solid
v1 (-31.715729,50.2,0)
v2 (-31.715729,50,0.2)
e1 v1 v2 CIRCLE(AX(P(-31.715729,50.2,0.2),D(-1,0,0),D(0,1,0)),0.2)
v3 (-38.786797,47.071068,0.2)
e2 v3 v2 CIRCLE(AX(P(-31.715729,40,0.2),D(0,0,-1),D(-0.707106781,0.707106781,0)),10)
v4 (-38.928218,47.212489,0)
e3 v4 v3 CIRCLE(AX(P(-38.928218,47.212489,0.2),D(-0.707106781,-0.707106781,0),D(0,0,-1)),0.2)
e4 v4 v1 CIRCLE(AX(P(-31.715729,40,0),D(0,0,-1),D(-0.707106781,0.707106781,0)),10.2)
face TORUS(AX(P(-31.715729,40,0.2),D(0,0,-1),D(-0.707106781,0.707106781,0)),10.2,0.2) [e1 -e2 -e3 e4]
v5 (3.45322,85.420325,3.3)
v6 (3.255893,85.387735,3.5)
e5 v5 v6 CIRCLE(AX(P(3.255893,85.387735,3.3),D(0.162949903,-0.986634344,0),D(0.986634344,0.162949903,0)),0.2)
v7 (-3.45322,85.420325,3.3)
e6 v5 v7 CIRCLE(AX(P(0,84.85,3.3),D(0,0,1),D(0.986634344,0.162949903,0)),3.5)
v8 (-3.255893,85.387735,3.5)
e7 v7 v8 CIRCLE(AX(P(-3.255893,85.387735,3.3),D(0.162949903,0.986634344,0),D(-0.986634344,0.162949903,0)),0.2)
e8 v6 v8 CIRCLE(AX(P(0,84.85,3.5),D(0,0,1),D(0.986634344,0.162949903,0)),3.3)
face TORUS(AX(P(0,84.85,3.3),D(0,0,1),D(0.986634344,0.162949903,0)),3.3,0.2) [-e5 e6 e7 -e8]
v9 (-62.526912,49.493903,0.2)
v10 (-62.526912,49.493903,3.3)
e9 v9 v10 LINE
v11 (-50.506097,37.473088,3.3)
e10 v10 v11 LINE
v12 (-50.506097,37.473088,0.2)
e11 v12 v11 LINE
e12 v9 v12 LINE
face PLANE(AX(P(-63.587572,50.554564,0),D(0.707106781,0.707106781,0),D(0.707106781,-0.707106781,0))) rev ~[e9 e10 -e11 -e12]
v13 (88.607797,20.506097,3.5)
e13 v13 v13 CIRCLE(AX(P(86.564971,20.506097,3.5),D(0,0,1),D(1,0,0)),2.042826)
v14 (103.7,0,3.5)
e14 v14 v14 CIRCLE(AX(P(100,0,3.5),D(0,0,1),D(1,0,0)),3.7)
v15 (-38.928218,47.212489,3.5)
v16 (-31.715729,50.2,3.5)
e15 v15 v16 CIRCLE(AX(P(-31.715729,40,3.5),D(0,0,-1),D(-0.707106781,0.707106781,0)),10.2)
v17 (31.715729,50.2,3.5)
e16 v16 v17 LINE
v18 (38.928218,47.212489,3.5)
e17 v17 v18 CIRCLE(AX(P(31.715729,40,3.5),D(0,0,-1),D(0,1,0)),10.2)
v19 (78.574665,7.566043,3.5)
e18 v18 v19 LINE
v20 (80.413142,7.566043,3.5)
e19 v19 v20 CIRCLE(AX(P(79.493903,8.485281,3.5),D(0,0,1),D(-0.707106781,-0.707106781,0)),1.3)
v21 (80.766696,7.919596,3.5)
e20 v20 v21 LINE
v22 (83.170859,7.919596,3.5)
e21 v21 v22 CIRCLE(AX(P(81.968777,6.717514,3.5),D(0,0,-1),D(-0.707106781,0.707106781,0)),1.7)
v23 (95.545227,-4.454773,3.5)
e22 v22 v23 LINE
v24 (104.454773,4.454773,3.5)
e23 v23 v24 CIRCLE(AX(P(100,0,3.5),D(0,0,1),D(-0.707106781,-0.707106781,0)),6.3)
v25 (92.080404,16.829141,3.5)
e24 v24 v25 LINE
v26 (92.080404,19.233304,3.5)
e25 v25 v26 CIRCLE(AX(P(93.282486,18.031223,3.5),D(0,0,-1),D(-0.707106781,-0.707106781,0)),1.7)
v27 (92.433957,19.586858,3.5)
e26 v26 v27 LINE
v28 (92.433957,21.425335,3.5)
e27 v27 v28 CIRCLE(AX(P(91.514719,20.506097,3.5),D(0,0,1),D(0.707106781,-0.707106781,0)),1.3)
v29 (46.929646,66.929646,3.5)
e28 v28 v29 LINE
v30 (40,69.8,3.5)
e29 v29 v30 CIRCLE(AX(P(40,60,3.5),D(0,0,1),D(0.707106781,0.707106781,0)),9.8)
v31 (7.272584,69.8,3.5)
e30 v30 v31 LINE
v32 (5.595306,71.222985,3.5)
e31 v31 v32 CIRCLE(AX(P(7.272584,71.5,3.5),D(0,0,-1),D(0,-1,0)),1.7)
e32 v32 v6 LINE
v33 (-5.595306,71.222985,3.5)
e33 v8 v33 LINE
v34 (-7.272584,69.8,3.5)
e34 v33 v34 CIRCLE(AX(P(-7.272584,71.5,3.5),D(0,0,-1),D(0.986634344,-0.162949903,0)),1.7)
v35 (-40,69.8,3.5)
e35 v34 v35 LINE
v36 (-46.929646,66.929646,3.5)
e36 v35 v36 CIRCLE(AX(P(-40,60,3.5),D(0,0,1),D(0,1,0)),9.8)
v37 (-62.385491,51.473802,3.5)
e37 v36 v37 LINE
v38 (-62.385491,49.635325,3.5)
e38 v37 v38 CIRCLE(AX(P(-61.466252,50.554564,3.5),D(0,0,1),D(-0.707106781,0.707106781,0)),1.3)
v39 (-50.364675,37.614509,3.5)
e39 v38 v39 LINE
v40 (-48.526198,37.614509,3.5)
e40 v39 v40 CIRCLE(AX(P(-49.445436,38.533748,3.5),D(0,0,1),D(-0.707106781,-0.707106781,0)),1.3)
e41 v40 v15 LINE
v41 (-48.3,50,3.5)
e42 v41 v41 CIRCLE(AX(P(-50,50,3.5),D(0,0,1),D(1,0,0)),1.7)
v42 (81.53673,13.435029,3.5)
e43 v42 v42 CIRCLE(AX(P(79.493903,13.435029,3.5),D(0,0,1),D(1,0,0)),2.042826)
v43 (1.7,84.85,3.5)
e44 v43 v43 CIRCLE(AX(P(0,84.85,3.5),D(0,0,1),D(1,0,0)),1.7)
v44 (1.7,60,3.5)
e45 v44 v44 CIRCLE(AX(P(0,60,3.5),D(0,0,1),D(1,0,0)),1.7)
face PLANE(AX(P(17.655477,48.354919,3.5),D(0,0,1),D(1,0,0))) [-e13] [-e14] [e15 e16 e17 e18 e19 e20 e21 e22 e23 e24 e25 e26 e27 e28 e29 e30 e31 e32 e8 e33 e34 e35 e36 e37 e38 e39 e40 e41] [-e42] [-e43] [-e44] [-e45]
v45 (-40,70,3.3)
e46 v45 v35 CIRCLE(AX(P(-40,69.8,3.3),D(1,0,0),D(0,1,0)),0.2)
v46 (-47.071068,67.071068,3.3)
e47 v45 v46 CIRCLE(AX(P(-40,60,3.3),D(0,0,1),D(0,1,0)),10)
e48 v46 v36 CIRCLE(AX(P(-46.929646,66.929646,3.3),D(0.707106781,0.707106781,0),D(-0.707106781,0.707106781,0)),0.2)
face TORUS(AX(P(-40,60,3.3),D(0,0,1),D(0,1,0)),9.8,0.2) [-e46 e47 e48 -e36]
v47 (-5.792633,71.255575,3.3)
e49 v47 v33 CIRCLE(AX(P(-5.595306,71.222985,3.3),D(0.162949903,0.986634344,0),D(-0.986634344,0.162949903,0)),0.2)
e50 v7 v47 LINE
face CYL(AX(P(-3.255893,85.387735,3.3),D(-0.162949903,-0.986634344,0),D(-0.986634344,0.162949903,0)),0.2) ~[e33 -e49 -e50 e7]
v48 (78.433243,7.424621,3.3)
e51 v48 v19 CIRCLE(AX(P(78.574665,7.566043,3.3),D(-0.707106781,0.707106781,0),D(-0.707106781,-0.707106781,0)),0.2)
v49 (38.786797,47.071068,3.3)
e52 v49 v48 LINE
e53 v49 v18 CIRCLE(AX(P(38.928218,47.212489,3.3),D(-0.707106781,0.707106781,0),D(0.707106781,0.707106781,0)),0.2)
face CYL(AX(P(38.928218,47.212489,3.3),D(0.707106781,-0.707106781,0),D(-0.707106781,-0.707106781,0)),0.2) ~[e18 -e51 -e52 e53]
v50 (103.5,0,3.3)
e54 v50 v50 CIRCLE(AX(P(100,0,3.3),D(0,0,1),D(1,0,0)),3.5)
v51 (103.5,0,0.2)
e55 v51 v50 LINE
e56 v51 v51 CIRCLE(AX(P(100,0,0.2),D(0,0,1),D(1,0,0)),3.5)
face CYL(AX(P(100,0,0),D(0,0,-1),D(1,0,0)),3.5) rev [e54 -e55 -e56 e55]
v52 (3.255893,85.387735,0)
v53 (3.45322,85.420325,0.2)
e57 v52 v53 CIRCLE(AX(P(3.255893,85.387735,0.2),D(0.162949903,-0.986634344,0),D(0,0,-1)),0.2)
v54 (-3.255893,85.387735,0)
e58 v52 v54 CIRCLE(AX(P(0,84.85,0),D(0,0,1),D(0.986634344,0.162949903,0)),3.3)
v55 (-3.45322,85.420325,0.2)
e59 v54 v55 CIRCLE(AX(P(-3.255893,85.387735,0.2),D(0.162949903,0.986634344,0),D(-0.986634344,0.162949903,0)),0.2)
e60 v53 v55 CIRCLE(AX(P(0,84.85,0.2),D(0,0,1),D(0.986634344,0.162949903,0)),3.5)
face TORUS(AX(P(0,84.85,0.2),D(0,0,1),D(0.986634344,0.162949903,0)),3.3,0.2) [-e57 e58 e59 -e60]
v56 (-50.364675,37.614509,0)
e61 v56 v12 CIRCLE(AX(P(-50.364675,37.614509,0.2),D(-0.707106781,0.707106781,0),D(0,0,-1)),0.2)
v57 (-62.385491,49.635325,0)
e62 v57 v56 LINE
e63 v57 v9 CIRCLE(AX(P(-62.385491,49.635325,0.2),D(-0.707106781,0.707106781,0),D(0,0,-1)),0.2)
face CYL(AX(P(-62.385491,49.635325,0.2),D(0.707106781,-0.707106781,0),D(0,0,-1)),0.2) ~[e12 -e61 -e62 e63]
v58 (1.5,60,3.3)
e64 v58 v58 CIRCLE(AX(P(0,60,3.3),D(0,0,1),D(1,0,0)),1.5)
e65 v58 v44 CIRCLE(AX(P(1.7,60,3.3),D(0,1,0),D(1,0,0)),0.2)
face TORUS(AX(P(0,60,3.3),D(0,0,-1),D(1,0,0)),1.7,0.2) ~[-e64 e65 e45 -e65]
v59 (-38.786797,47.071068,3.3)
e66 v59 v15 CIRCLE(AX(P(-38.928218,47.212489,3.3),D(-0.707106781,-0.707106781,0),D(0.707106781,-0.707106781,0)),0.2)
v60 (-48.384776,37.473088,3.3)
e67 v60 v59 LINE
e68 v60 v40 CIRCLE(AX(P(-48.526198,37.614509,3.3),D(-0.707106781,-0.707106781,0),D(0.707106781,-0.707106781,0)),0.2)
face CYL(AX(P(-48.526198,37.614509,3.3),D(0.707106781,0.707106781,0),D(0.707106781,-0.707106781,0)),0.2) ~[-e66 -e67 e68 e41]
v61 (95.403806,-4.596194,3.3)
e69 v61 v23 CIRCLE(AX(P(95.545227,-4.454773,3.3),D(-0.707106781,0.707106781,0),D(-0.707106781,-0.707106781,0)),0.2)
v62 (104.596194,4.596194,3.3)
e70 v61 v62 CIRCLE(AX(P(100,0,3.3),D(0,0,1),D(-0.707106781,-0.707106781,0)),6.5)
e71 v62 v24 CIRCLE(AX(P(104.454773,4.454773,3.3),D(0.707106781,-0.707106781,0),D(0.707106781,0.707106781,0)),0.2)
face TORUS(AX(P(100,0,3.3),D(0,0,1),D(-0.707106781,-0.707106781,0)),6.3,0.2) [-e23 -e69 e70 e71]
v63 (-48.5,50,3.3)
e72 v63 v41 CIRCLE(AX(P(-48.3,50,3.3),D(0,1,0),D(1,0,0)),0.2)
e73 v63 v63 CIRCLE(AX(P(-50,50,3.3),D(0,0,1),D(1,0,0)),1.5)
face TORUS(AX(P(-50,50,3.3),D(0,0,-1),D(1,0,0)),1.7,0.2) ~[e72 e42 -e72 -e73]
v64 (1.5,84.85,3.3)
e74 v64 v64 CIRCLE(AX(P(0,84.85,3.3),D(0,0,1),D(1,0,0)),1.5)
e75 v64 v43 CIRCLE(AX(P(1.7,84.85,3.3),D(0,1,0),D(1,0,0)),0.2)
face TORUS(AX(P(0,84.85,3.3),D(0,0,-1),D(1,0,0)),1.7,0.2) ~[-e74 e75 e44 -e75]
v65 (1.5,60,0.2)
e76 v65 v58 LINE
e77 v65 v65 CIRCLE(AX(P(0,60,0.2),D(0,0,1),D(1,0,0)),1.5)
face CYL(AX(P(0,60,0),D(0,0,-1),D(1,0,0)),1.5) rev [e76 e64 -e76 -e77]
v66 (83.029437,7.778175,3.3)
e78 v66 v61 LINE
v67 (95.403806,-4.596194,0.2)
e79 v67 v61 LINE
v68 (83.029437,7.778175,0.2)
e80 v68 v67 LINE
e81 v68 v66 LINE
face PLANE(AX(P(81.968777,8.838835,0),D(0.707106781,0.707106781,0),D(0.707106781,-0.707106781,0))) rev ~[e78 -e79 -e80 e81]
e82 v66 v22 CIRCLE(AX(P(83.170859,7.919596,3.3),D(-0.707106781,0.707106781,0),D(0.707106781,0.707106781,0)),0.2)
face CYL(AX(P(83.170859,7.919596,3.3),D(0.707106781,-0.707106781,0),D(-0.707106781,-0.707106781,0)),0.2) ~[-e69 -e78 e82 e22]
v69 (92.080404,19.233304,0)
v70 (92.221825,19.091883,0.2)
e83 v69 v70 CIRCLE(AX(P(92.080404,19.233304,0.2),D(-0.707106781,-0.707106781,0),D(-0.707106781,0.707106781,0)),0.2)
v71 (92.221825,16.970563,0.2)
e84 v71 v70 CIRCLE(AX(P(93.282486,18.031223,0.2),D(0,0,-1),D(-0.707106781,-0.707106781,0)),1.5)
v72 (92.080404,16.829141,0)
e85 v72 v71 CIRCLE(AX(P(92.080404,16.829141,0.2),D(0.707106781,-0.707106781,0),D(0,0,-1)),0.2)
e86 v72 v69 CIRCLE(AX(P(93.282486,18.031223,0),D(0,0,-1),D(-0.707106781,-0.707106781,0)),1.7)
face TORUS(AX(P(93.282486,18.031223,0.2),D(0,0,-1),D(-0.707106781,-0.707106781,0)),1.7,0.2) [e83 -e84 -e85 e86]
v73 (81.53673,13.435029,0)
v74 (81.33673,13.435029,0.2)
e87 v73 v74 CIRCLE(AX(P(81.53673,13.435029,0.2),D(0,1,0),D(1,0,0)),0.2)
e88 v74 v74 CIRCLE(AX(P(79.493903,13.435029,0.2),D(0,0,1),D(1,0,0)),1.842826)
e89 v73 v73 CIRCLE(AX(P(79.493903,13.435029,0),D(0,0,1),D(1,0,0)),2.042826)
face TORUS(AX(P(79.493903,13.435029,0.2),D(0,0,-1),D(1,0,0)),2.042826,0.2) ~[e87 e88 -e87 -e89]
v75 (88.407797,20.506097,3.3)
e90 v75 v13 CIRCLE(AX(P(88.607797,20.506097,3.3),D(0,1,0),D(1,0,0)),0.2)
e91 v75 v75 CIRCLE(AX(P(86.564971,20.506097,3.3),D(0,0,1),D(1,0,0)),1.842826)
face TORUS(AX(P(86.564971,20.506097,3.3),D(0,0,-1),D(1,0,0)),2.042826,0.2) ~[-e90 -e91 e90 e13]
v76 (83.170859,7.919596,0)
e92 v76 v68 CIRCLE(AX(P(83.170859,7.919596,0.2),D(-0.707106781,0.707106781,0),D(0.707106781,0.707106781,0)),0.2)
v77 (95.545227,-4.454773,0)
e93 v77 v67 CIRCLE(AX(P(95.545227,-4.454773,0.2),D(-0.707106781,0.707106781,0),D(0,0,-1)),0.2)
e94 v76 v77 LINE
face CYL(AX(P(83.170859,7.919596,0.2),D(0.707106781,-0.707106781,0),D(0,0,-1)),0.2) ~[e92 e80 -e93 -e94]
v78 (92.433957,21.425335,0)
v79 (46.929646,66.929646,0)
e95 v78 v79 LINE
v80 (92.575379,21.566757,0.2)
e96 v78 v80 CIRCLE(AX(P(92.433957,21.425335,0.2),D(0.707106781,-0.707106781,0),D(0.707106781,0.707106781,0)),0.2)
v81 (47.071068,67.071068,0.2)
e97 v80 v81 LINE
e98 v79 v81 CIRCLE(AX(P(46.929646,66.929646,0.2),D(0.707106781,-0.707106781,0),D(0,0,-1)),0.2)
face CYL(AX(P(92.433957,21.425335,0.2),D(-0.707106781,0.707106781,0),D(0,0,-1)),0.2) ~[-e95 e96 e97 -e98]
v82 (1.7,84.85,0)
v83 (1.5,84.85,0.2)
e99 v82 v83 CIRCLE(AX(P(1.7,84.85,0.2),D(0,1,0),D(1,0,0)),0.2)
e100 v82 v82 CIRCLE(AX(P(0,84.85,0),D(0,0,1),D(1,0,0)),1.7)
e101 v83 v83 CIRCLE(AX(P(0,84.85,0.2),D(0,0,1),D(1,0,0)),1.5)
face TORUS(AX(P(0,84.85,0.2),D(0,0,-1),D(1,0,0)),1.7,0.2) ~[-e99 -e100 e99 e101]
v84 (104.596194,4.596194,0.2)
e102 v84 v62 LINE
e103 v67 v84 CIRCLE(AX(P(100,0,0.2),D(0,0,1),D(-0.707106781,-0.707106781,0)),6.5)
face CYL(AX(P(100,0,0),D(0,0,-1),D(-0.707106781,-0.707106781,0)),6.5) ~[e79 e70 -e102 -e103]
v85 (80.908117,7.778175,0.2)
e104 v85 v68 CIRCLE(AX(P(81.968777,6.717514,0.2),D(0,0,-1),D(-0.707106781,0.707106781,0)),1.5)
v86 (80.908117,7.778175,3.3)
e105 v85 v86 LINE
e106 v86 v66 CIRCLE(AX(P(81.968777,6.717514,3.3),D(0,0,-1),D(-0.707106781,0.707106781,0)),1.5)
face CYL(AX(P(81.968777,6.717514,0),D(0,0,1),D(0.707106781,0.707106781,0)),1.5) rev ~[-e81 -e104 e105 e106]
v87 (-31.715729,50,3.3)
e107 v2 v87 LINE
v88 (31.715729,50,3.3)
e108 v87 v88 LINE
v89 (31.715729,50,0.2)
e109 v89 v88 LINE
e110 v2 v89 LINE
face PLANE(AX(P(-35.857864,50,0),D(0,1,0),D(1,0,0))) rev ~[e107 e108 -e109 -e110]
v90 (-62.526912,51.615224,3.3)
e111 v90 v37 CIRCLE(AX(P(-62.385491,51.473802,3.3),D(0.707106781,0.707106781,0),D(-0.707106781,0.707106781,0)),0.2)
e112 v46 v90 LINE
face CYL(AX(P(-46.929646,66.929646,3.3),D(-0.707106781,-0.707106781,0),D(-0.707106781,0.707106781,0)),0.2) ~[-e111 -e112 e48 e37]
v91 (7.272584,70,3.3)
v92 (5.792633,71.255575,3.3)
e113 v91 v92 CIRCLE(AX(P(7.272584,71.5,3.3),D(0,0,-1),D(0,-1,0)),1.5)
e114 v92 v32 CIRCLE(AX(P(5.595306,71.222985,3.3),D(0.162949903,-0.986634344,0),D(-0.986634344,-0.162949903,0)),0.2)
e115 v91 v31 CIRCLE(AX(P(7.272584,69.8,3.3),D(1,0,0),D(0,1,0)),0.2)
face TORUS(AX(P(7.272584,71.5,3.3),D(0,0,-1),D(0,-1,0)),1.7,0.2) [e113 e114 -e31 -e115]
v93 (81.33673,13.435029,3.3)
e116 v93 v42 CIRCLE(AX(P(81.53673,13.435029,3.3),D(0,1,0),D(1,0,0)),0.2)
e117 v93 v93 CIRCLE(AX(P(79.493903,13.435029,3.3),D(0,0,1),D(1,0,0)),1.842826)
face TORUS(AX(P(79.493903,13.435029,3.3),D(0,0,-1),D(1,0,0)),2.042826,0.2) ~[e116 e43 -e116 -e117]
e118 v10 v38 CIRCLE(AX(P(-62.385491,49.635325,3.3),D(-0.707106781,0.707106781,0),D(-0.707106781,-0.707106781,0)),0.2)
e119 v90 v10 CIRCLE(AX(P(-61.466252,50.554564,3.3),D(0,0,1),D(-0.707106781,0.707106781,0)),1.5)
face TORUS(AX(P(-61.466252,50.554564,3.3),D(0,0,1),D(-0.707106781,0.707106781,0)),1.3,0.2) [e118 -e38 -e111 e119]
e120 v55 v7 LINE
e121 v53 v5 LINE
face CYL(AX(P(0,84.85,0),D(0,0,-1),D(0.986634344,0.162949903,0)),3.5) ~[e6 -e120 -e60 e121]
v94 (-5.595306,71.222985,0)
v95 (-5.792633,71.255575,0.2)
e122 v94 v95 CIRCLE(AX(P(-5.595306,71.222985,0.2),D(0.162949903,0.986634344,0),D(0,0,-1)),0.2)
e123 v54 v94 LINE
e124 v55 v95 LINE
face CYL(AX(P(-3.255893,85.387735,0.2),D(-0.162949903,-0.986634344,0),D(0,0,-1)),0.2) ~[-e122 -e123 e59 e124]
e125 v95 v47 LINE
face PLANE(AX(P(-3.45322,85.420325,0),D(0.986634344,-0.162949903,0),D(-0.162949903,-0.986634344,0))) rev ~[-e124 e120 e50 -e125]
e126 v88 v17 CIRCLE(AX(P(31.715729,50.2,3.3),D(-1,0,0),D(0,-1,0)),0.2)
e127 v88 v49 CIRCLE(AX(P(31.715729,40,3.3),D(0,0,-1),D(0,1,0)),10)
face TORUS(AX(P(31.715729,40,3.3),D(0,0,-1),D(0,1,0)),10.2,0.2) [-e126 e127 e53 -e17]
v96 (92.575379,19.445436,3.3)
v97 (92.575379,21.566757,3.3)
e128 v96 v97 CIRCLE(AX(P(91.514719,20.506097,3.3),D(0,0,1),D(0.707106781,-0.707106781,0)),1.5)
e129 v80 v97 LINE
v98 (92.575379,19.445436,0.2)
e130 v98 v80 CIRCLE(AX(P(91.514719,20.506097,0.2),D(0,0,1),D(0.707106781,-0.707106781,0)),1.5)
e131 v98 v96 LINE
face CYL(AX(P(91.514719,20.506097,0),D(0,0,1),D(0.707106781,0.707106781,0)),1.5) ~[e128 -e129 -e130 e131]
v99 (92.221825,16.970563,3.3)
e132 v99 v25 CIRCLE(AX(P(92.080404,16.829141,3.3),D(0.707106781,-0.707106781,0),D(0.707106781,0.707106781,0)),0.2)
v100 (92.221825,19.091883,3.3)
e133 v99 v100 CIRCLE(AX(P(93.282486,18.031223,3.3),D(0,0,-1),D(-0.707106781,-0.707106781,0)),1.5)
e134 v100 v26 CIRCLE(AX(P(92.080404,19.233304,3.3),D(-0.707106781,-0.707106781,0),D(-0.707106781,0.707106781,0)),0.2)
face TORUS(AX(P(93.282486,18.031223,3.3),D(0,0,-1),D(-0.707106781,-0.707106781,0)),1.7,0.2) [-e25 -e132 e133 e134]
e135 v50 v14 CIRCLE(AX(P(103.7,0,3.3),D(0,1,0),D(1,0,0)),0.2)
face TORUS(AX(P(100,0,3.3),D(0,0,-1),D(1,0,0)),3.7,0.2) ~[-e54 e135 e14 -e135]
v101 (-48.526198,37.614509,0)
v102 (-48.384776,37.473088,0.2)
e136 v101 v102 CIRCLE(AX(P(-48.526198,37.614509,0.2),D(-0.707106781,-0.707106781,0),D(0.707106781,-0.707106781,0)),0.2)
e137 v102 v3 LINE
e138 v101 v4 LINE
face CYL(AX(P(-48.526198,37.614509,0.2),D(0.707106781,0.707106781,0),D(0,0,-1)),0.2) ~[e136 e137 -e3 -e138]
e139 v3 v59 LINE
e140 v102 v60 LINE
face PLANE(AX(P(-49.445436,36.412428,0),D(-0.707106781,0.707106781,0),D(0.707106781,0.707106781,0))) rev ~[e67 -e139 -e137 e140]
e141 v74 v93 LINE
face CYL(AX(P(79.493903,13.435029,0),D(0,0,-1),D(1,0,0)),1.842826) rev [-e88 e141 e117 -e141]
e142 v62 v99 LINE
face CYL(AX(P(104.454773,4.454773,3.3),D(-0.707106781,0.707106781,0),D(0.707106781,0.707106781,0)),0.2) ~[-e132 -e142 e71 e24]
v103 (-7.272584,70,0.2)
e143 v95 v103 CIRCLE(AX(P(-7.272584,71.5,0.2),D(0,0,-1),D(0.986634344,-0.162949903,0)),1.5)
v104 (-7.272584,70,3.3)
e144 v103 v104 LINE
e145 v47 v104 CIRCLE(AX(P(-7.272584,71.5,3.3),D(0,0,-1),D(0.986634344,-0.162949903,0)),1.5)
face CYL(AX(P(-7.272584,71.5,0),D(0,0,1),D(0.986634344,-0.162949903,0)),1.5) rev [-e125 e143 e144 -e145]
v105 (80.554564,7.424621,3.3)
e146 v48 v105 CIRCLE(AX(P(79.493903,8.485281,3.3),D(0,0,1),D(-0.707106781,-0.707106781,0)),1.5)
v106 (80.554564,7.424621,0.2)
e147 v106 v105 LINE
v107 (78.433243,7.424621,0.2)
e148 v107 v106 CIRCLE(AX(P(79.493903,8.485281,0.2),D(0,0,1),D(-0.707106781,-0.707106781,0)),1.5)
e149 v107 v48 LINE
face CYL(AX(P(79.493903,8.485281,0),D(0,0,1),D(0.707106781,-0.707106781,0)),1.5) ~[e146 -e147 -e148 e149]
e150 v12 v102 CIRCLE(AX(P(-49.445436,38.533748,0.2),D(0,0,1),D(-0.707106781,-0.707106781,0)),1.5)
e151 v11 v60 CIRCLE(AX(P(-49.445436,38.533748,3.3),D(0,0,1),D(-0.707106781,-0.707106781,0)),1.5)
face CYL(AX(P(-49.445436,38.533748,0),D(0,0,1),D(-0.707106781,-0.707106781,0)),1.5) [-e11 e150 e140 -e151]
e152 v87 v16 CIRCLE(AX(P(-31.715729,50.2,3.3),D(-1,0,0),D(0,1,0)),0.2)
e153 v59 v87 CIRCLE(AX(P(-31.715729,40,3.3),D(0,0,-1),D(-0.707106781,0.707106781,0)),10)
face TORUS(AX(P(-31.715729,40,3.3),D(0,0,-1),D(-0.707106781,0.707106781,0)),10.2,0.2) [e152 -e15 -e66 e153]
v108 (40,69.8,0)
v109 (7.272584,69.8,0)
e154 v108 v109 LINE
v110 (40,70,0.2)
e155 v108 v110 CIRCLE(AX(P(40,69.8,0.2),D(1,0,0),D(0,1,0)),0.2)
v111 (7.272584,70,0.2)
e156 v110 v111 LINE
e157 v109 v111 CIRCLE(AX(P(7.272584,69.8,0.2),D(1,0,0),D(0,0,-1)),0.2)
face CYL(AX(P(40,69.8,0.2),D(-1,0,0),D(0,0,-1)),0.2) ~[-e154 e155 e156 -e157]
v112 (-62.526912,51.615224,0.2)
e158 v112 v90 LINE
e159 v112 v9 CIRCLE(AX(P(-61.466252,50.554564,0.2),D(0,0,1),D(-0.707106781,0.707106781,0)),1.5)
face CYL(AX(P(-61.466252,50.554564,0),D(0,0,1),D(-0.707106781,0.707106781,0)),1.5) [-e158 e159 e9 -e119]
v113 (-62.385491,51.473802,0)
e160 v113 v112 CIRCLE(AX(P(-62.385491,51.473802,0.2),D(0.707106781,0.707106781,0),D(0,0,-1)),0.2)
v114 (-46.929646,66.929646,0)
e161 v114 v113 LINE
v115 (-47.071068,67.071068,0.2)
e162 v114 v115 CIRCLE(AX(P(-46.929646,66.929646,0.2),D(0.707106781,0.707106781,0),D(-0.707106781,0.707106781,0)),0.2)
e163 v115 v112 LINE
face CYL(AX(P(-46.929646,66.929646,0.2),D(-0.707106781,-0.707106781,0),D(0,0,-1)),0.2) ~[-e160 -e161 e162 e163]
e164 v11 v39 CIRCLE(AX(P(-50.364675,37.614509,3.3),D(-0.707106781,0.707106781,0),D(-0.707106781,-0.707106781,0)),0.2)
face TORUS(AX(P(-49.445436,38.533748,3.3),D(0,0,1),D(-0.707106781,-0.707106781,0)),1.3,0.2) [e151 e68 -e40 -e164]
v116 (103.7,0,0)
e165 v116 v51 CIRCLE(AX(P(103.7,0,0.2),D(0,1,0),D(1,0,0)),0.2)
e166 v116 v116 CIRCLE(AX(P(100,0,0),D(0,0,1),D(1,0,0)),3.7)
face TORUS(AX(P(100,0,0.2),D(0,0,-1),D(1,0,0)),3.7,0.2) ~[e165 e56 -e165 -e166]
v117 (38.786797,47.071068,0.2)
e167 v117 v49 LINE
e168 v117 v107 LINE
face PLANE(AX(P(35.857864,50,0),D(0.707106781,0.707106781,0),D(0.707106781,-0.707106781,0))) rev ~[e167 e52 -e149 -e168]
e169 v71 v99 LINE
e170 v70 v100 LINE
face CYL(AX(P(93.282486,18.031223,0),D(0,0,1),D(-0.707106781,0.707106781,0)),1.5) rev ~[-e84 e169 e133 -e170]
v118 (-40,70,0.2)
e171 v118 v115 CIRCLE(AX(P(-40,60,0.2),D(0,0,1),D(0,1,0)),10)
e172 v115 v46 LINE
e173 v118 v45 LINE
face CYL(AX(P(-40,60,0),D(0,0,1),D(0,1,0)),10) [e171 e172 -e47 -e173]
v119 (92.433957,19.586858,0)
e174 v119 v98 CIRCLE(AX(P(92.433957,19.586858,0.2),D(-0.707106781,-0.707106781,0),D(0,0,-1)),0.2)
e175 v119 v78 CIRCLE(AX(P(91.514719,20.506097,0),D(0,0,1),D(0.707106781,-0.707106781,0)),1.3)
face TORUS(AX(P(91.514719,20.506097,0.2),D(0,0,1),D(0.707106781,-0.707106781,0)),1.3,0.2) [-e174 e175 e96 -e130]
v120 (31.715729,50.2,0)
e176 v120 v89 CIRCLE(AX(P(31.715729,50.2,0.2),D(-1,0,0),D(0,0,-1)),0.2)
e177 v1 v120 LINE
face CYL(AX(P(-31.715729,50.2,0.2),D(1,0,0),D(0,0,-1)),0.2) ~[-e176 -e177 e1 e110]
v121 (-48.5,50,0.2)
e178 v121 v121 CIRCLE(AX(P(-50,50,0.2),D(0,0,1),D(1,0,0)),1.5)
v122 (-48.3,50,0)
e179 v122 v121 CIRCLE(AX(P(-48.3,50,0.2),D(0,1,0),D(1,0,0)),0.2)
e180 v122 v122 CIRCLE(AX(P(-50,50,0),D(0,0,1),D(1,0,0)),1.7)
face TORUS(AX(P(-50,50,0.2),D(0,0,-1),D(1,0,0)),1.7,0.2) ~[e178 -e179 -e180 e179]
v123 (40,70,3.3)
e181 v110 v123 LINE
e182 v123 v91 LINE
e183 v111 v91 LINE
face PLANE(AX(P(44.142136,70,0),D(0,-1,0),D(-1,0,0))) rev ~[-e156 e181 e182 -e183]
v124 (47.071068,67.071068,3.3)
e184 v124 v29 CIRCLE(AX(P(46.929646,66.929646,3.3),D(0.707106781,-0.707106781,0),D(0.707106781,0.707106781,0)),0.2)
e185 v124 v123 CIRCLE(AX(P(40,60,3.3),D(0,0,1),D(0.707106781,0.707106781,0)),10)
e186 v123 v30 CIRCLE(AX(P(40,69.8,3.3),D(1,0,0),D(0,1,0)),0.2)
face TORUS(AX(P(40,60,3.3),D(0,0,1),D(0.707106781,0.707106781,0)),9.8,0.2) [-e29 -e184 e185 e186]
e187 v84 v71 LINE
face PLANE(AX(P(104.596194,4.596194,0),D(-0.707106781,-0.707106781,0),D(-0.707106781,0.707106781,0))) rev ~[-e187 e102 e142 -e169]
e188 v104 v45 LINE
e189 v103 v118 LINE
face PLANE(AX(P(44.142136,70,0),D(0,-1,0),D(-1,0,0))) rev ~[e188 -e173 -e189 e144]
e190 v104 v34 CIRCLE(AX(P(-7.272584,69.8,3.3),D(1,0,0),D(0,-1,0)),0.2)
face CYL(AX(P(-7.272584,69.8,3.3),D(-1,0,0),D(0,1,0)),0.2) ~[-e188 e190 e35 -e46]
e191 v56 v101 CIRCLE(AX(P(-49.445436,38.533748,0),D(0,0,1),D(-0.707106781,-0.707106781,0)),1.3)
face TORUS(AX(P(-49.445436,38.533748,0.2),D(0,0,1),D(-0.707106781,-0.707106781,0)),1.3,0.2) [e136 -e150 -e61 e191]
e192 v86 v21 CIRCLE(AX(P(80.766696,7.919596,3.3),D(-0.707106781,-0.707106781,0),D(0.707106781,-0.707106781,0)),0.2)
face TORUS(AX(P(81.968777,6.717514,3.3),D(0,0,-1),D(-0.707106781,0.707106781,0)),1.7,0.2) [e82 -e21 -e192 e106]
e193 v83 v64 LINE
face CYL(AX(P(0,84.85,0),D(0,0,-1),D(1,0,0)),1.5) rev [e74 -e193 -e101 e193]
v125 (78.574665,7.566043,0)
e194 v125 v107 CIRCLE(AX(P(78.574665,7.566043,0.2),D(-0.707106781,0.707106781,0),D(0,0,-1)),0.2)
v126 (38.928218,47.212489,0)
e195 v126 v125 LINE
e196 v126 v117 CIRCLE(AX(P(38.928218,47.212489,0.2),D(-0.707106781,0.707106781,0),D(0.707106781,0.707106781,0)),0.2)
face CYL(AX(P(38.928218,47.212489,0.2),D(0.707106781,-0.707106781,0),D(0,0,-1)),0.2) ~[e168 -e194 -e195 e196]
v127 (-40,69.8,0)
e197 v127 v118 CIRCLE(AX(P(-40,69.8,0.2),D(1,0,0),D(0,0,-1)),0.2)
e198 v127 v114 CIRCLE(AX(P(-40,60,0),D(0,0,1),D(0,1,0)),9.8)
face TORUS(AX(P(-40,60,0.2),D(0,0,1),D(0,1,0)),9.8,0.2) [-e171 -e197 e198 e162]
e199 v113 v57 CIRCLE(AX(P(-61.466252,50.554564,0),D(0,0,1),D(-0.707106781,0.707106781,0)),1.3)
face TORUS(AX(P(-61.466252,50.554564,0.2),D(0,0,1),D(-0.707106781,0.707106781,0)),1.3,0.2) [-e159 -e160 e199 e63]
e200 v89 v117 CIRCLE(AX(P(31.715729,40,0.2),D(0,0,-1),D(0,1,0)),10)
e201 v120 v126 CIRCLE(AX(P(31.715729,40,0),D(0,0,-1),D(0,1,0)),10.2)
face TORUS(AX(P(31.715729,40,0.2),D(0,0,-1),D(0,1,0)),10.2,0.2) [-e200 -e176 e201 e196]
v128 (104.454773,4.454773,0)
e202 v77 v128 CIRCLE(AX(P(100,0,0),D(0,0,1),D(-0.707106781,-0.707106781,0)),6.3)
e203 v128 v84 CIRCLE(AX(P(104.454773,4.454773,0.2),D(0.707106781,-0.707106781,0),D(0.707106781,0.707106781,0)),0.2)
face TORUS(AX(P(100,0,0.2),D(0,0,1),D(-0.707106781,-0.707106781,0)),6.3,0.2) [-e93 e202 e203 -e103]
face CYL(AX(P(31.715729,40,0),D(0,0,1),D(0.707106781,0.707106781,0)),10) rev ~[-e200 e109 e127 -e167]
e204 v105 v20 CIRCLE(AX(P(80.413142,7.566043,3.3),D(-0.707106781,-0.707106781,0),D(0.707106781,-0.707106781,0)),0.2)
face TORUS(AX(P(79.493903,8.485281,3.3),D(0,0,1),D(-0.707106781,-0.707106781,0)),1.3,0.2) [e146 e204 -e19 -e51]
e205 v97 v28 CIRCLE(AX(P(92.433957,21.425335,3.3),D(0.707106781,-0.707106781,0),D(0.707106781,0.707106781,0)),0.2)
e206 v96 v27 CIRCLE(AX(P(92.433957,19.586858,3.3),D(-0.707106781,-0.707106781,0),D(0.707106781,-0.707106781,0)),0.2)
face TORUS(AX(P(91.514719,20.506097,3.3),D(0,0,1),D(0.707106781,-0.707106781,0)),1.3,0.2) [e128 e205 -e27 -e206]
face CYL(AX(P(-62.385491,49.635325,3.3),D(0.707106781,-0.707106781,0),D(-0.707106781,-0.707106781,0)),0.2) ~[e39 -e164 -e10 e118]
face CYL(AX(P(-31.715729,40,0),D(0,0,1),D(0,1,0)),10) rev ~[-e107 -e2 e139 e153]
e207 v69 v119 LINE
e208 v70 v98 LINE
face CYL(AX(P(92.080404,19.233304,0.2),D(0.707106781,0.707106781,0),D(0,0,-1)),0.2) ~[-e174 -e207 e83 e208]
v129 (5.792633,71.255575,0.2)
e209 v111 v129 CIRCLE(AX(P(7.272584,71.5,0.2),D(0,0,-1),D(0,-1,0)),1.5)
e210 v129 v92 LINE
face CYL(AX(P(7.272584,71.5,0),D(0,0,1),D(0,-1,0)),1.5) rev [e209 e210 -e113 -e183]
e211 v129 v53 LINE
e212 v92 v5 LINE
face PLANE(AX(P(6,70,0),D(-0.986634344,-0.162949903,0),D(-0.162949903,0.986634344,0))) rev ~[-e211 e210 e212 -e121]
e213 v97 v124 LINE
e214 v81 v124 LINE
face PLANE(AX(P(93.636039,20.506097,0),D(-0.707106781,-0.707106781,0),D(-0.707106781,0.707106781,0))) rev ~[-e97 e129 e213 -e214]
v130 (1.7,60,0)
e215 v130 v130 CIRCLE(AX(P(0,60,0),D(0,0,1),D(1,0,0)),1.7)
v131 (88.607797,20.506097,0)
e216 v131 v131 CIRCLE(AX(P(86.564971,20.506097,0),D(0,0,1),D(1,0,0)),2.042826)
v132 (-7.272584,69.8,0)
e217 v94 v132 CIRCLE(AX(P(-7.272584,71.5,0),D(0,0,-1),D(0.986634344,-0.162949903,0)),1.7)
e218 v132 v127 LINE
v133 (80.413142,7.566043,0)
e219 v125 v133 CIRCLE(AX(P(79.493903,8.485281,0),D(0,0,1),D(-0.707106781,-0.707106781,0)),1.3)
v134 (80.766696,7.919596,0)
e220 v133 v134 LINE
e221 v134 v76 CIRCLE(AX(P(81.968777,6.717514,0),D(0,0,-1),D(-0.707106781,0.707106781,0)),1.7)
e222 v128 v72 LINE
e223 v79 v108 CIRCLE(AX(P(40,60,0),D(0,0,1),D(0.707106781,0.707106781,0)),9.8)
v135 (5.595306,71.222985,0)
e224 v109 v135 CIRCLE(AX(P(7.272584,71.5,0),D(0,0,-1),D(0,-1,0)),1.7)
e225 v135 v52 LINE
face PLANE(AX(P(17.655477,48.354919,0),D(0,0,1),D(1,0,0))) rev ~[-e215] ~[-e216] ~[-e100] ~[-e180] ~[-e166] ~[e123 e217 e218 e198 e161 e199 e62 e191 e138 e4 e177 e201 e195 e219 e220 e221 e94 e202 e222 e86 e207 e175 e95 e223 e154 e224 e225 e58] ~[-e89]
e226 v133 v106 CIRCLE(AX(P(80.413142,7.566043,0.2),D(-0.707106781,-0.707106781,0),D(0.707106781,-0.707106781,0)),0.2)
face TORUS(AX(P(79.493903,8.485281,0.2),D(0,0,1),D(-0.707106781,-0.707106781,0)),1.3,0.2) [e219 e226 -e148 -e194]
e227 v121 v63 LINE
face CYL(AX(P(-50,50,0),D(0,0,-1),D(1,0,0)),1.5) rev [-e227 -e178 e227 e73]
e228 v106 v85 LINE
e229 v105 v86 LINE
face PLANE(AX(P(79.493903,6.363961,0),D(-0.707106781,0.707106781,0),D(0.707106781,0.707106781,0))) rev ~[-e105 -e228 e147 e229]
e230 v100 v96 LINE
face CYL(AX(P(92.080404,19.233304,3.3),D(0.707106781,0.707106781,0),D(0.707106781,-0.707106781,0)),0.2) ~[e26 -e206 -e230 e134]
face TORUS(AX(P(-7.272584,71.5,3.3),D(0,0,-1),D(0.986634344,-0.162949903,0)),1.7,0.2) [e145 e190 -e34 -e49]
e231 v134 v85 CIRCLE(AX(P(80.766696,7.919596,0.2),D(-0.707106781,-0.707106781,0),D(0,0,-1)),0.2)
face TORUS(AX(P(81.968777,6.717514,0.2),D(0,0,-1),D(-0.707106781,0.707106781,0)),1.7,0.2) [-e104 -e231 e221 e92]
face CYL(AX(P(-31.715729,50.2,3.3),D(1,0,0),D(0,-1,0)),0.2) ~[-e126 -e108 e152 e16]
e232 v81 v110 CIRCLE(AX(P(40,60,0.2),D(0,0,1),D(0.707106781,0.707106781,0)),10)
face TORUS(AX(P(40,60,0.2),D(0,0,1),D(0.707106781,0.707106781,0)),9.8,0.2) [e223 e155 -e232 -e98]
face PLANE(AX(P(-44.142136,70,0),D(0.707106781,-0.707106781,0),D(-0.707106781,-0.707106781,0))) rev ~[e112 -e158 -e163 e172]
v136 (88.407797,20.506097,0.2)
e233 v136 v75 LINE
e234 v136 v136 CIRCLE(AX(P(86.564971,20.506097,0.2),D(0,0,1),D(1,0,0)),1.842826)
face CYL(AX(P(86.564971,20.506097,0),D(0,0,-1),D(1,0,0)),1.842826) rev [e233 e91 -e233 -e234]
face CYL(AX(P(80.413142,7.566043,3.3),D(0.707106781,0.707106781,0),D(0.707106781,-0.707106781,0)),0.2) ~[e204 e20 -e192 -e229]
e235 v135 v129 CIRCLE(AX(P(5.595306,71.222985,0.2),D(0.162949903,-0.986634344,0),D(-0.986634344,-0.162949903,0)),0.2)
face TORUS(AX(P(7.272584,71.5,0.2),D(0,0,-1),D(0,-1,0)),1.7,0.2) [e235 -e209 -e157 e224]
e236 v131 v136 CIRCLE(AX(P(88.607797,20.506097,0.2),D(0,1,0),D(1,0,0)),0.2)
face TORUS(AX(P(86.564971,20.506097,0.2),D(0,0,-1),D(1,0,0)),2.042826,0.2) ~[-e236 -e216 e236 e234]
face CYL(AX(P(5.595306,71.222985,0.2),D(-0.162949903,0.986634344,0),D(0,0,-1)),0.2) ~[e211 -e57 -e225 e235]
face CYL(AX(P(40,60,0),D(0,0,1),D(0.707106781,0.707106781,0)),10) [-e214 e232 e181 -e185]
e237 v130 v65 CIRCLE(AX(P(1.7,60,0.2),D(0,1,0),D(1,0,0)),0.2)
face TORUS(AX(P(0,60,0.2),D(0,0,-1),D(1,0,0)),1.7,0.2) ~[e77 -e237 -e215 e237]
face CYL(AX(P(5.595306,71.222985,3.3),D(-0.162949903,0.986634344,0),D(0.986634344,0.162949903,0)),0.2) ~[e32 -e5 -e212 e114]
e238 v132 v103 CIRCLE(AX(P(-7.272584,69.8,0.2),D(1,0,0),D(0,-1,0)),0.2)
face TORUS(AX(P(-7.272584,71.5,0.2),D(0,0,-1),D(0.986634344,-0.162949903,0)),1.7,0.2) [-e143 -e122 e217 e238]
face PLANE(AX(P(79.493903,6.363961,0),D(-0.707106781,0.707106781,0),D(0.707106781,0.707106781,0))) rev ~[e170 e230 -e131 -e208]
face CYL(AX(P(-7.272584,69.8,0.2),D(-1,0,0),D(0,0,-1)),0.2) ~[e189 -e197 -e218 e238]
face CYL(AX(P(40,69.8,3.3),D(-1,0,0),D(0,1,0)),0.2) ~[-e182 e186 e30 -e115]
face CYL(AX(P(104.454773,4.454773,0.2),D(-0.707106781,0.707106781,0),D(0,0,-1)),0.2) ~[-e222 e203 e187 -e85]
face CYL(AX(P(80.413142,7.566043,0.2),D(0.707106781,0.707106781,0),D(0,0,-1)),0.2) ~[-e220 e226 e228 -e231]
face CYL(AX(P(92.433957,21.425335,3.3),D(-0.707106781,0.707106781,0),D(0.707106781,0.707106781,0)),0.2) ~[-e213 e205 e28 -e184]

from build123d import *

# Parameters (mm, degrees)
SKETCH6_R           = 3.5
SKETCH6_R_2         = 1.842826212
SKETCH6_R_3         = 1.5
BOSS_EXTRUDE1_DEPTH = 3.5
FILLET1_R           = 10
FILLET2_R           = 1.5
FILLET3_R           = 0.2


with BuildPart() as part:
    # Sketch6 → Boss-Extrude1 (new body)
    # profile 1 of 3: a face of its own
    with BuildSketch(Plane.XY):
        with BuildLine():
            Line((91.161165235, 18.03122292), (81.96877708, 8.838834765))
            Line((81.96877708, 8.838834765), (95.403805922, -4.596194078))
            ThreePointArc((95.403805922, -4.596194078), (104.596194078, -4.596194078), (104.596194078, 4.596194078))
            Line((104.596194078, 4.596194078), (91.161165235, 18.03122292))
        make_face()
        with Locations((100, 0)):
            Circle(SKETCH6_R, mode=Mode.SUBTRACT)
    # profile 2 of 3: a face of its own
    with BuildSketch(Plane.XY):
        Polygon((79.493903346, 6.363961031), (81.96877708, 8.838834765), (91.161165235, 18.03122292), (93.636038969, 20.506096654), (44.142135624, 70), (6, 70), (-6, 70), (-44.142135624, 70), (-63.587572106, 50.554563517), (-49.445436483, 36.412427894), (-35.857864376, 50), (35.857864376, 50), align=None)
        with Locations((79.493903346, 13.435028843)):
            Circle(SKETCH6_R_2, mode=Mode.SUBTRACT)
        with Locations((86.564971157, 20.506096654)):
            Circle(SKETCH6_R_2, mode=Mode.SUBTRACT)
        with Locations((-50, 50)):
            Circle(SKETCH6_R_3, mode=Mode.SUBTRACT)
        with Locations((0, 60)):
            Circle(SKETCH6_R_3, mode=Mode.SUBTRACT)
    # profile 3 of 3: a face of its own
    with BuildSketch(Plane.XY):
        with BuildLine():
            Line((-6, 70), (6, 70))
            Line((6, 70), (3.453220204, 85.420324662))
            ThreePointArc((3.453220204, 85.420324662), (0, 88.35), (-3.453220204, 85.420324662))
            Line((-3.453220204, 85.420324662), (-6, 70))
        make_face()
        with Locations((0, 84.85)):
            Circle(SKETCH6_R_3, mode=Mode.SUBTRACT)
    extrude(amount=BOSS_EXTRUDE1_DEPTH)

    # Fillet1
    fillet1_edges = [part.edges().sort_by_distance(p)[0] for p in [
        (44.142135624, 70, 1.75),
        (35.857864376, 50, 1.75),
        (-35.857864376, 50, 1.75),
        (-44.142135624, 70, 1.75),
    ]]
    fillet(fillet1_edges, radius=FILLET1_R)

    # Fillet2
    fillet2_edges = [part.edges().sort_by_distance(p)[0] for p in [
        (6, 70, 1.75),
        (93.636038969, 20.506096654, 1.75),
        (91.161165235, 18.03122292, 1.75),
        (81.96877708, 8.838834765, 1.75),
        (79.493903346, 6.363961031, 1.75),
        (-49.445436483, 36.412427894, 1.75),
        (-63.587572106, 50.554563517, 1.75),
        (-6, 70, 1.75),
    ]]
    fillet(fillet2_edges, radius=FILLET2_R)

    # Fillet3
    fillet3_edges = [part.edges().sort_by_distance(p)[0] for p in [
        (-56.516504294, 43.483495706, 0),
        (93.014718626, 20.506096654, 0),
        (79.493903346, 6.985281374, 0),
        (-62.966251763, 50.554563517, 0),
        (-49.445436483, 37.033748237, 0),
        (-56.516504294, 43.483495706, 3.5),
        (-23.636292033, 70, 3.5),
        (80.731340213, 7.601397898, 3.5),
        (89.216621587, 1.590990258, 3.5),
        (98.409009742, 10.783378413, 3.5),
        (92.398602102, 19.268659787, 3.5),
        (69.823223305, 44.318912319, 3.5),
        (4.622926377, 78.337949903, 3.5),
        (-4.622926377, 78.337949903, 3.5),
        (93.014718626, 20.506096654, 3.5),
        (79.493903346, 6.985281374, 3.5),
        (-62.966251763, 50.554563517, 3.5),
        (-49.445436483, 37.033748237, 3.5),
        (-6.302181387, 70.356182427, 0),
        (96.5, 0, 3.5),
        (-6.302181387, 70.356182427, 3.5),
        (6.302181387, 70.356182427, 0),
        (6.302181387, 70.356182427, 3.5),
        (81.96877708, 8.217514421, 0),
        (81.96877708, 8.217514421, 3.5),
        (91.782485579, 18.03122292, 0),
        (91.782485579, 18.03122292, 3.5),
        (-1.5, 84.85, 3.5),
        (-1.5, 60, 3.5),
        (84.722144945, 20.506096654, 3.5),
        (104.596194078, -4.596194078, 0),
        (77.651077133, 13.435028843, 3.5),
        (0, 88.35, 0),
        (-51.5, 50, 0),
        (77.651077133, 13.435028843, 0),
        (84.722144945, 20.506096654, 0),
        (-1.5, 60, 0),
        (-1.5, 84.85, 0),
        (96.5, 0, 0),
        (-51.5, 50, 3.5),
        (0, 88.35, 3.5),
        (0, 50, 0),
        (0, 50, 3.5),
        (58.610019869, 27.247844507, 0),
        (58.610019869, 27.247844507, 3.5),
        (-54.798989873, 59.343145751, 0),
        (-54.798989873, 59.343145751, 3.5),
        (23.636292033, 70, 0),
        (43.826834324, 69.238795325, 0),
        (-43.826834324, 69.238795325, 0),
        (23.636292033, 70, 3.5),
        (43.826834324, 69.238795325, 3.5),
        (-43.826834324, 69.238795325, 3.5),
        (-35.542563076, 49.238795325, 0),
        (-35.542563076, 49.238795325, 3.5),
        (35.542563076, 49.238795325, 0),
        (35.542563076, 49.238795325, 3.5),
        (-43.585786438, 42.272077939, 0),
        (-43.585786438, 42.272077939, 3.5),
        (104.596194078, -4.596194078, 3.5),
        (-23.636292033, 70, 0),
        (-4.622926377, 78.337949903, 0),
        (4.622926377, 78.337949903, 0),
        (69.823223305, 44.318912319, 0),
        (92.398602102, 19.268659787, 0),
        (98.409009742, 10.783378413, 0),
        (89.216621587, 1.590990258, 0),
        (80.731340213, 7.601397898, 0),
    ]]
    fillet(fillet3_edges, radius=FILLET3_R)


solid = part.part
